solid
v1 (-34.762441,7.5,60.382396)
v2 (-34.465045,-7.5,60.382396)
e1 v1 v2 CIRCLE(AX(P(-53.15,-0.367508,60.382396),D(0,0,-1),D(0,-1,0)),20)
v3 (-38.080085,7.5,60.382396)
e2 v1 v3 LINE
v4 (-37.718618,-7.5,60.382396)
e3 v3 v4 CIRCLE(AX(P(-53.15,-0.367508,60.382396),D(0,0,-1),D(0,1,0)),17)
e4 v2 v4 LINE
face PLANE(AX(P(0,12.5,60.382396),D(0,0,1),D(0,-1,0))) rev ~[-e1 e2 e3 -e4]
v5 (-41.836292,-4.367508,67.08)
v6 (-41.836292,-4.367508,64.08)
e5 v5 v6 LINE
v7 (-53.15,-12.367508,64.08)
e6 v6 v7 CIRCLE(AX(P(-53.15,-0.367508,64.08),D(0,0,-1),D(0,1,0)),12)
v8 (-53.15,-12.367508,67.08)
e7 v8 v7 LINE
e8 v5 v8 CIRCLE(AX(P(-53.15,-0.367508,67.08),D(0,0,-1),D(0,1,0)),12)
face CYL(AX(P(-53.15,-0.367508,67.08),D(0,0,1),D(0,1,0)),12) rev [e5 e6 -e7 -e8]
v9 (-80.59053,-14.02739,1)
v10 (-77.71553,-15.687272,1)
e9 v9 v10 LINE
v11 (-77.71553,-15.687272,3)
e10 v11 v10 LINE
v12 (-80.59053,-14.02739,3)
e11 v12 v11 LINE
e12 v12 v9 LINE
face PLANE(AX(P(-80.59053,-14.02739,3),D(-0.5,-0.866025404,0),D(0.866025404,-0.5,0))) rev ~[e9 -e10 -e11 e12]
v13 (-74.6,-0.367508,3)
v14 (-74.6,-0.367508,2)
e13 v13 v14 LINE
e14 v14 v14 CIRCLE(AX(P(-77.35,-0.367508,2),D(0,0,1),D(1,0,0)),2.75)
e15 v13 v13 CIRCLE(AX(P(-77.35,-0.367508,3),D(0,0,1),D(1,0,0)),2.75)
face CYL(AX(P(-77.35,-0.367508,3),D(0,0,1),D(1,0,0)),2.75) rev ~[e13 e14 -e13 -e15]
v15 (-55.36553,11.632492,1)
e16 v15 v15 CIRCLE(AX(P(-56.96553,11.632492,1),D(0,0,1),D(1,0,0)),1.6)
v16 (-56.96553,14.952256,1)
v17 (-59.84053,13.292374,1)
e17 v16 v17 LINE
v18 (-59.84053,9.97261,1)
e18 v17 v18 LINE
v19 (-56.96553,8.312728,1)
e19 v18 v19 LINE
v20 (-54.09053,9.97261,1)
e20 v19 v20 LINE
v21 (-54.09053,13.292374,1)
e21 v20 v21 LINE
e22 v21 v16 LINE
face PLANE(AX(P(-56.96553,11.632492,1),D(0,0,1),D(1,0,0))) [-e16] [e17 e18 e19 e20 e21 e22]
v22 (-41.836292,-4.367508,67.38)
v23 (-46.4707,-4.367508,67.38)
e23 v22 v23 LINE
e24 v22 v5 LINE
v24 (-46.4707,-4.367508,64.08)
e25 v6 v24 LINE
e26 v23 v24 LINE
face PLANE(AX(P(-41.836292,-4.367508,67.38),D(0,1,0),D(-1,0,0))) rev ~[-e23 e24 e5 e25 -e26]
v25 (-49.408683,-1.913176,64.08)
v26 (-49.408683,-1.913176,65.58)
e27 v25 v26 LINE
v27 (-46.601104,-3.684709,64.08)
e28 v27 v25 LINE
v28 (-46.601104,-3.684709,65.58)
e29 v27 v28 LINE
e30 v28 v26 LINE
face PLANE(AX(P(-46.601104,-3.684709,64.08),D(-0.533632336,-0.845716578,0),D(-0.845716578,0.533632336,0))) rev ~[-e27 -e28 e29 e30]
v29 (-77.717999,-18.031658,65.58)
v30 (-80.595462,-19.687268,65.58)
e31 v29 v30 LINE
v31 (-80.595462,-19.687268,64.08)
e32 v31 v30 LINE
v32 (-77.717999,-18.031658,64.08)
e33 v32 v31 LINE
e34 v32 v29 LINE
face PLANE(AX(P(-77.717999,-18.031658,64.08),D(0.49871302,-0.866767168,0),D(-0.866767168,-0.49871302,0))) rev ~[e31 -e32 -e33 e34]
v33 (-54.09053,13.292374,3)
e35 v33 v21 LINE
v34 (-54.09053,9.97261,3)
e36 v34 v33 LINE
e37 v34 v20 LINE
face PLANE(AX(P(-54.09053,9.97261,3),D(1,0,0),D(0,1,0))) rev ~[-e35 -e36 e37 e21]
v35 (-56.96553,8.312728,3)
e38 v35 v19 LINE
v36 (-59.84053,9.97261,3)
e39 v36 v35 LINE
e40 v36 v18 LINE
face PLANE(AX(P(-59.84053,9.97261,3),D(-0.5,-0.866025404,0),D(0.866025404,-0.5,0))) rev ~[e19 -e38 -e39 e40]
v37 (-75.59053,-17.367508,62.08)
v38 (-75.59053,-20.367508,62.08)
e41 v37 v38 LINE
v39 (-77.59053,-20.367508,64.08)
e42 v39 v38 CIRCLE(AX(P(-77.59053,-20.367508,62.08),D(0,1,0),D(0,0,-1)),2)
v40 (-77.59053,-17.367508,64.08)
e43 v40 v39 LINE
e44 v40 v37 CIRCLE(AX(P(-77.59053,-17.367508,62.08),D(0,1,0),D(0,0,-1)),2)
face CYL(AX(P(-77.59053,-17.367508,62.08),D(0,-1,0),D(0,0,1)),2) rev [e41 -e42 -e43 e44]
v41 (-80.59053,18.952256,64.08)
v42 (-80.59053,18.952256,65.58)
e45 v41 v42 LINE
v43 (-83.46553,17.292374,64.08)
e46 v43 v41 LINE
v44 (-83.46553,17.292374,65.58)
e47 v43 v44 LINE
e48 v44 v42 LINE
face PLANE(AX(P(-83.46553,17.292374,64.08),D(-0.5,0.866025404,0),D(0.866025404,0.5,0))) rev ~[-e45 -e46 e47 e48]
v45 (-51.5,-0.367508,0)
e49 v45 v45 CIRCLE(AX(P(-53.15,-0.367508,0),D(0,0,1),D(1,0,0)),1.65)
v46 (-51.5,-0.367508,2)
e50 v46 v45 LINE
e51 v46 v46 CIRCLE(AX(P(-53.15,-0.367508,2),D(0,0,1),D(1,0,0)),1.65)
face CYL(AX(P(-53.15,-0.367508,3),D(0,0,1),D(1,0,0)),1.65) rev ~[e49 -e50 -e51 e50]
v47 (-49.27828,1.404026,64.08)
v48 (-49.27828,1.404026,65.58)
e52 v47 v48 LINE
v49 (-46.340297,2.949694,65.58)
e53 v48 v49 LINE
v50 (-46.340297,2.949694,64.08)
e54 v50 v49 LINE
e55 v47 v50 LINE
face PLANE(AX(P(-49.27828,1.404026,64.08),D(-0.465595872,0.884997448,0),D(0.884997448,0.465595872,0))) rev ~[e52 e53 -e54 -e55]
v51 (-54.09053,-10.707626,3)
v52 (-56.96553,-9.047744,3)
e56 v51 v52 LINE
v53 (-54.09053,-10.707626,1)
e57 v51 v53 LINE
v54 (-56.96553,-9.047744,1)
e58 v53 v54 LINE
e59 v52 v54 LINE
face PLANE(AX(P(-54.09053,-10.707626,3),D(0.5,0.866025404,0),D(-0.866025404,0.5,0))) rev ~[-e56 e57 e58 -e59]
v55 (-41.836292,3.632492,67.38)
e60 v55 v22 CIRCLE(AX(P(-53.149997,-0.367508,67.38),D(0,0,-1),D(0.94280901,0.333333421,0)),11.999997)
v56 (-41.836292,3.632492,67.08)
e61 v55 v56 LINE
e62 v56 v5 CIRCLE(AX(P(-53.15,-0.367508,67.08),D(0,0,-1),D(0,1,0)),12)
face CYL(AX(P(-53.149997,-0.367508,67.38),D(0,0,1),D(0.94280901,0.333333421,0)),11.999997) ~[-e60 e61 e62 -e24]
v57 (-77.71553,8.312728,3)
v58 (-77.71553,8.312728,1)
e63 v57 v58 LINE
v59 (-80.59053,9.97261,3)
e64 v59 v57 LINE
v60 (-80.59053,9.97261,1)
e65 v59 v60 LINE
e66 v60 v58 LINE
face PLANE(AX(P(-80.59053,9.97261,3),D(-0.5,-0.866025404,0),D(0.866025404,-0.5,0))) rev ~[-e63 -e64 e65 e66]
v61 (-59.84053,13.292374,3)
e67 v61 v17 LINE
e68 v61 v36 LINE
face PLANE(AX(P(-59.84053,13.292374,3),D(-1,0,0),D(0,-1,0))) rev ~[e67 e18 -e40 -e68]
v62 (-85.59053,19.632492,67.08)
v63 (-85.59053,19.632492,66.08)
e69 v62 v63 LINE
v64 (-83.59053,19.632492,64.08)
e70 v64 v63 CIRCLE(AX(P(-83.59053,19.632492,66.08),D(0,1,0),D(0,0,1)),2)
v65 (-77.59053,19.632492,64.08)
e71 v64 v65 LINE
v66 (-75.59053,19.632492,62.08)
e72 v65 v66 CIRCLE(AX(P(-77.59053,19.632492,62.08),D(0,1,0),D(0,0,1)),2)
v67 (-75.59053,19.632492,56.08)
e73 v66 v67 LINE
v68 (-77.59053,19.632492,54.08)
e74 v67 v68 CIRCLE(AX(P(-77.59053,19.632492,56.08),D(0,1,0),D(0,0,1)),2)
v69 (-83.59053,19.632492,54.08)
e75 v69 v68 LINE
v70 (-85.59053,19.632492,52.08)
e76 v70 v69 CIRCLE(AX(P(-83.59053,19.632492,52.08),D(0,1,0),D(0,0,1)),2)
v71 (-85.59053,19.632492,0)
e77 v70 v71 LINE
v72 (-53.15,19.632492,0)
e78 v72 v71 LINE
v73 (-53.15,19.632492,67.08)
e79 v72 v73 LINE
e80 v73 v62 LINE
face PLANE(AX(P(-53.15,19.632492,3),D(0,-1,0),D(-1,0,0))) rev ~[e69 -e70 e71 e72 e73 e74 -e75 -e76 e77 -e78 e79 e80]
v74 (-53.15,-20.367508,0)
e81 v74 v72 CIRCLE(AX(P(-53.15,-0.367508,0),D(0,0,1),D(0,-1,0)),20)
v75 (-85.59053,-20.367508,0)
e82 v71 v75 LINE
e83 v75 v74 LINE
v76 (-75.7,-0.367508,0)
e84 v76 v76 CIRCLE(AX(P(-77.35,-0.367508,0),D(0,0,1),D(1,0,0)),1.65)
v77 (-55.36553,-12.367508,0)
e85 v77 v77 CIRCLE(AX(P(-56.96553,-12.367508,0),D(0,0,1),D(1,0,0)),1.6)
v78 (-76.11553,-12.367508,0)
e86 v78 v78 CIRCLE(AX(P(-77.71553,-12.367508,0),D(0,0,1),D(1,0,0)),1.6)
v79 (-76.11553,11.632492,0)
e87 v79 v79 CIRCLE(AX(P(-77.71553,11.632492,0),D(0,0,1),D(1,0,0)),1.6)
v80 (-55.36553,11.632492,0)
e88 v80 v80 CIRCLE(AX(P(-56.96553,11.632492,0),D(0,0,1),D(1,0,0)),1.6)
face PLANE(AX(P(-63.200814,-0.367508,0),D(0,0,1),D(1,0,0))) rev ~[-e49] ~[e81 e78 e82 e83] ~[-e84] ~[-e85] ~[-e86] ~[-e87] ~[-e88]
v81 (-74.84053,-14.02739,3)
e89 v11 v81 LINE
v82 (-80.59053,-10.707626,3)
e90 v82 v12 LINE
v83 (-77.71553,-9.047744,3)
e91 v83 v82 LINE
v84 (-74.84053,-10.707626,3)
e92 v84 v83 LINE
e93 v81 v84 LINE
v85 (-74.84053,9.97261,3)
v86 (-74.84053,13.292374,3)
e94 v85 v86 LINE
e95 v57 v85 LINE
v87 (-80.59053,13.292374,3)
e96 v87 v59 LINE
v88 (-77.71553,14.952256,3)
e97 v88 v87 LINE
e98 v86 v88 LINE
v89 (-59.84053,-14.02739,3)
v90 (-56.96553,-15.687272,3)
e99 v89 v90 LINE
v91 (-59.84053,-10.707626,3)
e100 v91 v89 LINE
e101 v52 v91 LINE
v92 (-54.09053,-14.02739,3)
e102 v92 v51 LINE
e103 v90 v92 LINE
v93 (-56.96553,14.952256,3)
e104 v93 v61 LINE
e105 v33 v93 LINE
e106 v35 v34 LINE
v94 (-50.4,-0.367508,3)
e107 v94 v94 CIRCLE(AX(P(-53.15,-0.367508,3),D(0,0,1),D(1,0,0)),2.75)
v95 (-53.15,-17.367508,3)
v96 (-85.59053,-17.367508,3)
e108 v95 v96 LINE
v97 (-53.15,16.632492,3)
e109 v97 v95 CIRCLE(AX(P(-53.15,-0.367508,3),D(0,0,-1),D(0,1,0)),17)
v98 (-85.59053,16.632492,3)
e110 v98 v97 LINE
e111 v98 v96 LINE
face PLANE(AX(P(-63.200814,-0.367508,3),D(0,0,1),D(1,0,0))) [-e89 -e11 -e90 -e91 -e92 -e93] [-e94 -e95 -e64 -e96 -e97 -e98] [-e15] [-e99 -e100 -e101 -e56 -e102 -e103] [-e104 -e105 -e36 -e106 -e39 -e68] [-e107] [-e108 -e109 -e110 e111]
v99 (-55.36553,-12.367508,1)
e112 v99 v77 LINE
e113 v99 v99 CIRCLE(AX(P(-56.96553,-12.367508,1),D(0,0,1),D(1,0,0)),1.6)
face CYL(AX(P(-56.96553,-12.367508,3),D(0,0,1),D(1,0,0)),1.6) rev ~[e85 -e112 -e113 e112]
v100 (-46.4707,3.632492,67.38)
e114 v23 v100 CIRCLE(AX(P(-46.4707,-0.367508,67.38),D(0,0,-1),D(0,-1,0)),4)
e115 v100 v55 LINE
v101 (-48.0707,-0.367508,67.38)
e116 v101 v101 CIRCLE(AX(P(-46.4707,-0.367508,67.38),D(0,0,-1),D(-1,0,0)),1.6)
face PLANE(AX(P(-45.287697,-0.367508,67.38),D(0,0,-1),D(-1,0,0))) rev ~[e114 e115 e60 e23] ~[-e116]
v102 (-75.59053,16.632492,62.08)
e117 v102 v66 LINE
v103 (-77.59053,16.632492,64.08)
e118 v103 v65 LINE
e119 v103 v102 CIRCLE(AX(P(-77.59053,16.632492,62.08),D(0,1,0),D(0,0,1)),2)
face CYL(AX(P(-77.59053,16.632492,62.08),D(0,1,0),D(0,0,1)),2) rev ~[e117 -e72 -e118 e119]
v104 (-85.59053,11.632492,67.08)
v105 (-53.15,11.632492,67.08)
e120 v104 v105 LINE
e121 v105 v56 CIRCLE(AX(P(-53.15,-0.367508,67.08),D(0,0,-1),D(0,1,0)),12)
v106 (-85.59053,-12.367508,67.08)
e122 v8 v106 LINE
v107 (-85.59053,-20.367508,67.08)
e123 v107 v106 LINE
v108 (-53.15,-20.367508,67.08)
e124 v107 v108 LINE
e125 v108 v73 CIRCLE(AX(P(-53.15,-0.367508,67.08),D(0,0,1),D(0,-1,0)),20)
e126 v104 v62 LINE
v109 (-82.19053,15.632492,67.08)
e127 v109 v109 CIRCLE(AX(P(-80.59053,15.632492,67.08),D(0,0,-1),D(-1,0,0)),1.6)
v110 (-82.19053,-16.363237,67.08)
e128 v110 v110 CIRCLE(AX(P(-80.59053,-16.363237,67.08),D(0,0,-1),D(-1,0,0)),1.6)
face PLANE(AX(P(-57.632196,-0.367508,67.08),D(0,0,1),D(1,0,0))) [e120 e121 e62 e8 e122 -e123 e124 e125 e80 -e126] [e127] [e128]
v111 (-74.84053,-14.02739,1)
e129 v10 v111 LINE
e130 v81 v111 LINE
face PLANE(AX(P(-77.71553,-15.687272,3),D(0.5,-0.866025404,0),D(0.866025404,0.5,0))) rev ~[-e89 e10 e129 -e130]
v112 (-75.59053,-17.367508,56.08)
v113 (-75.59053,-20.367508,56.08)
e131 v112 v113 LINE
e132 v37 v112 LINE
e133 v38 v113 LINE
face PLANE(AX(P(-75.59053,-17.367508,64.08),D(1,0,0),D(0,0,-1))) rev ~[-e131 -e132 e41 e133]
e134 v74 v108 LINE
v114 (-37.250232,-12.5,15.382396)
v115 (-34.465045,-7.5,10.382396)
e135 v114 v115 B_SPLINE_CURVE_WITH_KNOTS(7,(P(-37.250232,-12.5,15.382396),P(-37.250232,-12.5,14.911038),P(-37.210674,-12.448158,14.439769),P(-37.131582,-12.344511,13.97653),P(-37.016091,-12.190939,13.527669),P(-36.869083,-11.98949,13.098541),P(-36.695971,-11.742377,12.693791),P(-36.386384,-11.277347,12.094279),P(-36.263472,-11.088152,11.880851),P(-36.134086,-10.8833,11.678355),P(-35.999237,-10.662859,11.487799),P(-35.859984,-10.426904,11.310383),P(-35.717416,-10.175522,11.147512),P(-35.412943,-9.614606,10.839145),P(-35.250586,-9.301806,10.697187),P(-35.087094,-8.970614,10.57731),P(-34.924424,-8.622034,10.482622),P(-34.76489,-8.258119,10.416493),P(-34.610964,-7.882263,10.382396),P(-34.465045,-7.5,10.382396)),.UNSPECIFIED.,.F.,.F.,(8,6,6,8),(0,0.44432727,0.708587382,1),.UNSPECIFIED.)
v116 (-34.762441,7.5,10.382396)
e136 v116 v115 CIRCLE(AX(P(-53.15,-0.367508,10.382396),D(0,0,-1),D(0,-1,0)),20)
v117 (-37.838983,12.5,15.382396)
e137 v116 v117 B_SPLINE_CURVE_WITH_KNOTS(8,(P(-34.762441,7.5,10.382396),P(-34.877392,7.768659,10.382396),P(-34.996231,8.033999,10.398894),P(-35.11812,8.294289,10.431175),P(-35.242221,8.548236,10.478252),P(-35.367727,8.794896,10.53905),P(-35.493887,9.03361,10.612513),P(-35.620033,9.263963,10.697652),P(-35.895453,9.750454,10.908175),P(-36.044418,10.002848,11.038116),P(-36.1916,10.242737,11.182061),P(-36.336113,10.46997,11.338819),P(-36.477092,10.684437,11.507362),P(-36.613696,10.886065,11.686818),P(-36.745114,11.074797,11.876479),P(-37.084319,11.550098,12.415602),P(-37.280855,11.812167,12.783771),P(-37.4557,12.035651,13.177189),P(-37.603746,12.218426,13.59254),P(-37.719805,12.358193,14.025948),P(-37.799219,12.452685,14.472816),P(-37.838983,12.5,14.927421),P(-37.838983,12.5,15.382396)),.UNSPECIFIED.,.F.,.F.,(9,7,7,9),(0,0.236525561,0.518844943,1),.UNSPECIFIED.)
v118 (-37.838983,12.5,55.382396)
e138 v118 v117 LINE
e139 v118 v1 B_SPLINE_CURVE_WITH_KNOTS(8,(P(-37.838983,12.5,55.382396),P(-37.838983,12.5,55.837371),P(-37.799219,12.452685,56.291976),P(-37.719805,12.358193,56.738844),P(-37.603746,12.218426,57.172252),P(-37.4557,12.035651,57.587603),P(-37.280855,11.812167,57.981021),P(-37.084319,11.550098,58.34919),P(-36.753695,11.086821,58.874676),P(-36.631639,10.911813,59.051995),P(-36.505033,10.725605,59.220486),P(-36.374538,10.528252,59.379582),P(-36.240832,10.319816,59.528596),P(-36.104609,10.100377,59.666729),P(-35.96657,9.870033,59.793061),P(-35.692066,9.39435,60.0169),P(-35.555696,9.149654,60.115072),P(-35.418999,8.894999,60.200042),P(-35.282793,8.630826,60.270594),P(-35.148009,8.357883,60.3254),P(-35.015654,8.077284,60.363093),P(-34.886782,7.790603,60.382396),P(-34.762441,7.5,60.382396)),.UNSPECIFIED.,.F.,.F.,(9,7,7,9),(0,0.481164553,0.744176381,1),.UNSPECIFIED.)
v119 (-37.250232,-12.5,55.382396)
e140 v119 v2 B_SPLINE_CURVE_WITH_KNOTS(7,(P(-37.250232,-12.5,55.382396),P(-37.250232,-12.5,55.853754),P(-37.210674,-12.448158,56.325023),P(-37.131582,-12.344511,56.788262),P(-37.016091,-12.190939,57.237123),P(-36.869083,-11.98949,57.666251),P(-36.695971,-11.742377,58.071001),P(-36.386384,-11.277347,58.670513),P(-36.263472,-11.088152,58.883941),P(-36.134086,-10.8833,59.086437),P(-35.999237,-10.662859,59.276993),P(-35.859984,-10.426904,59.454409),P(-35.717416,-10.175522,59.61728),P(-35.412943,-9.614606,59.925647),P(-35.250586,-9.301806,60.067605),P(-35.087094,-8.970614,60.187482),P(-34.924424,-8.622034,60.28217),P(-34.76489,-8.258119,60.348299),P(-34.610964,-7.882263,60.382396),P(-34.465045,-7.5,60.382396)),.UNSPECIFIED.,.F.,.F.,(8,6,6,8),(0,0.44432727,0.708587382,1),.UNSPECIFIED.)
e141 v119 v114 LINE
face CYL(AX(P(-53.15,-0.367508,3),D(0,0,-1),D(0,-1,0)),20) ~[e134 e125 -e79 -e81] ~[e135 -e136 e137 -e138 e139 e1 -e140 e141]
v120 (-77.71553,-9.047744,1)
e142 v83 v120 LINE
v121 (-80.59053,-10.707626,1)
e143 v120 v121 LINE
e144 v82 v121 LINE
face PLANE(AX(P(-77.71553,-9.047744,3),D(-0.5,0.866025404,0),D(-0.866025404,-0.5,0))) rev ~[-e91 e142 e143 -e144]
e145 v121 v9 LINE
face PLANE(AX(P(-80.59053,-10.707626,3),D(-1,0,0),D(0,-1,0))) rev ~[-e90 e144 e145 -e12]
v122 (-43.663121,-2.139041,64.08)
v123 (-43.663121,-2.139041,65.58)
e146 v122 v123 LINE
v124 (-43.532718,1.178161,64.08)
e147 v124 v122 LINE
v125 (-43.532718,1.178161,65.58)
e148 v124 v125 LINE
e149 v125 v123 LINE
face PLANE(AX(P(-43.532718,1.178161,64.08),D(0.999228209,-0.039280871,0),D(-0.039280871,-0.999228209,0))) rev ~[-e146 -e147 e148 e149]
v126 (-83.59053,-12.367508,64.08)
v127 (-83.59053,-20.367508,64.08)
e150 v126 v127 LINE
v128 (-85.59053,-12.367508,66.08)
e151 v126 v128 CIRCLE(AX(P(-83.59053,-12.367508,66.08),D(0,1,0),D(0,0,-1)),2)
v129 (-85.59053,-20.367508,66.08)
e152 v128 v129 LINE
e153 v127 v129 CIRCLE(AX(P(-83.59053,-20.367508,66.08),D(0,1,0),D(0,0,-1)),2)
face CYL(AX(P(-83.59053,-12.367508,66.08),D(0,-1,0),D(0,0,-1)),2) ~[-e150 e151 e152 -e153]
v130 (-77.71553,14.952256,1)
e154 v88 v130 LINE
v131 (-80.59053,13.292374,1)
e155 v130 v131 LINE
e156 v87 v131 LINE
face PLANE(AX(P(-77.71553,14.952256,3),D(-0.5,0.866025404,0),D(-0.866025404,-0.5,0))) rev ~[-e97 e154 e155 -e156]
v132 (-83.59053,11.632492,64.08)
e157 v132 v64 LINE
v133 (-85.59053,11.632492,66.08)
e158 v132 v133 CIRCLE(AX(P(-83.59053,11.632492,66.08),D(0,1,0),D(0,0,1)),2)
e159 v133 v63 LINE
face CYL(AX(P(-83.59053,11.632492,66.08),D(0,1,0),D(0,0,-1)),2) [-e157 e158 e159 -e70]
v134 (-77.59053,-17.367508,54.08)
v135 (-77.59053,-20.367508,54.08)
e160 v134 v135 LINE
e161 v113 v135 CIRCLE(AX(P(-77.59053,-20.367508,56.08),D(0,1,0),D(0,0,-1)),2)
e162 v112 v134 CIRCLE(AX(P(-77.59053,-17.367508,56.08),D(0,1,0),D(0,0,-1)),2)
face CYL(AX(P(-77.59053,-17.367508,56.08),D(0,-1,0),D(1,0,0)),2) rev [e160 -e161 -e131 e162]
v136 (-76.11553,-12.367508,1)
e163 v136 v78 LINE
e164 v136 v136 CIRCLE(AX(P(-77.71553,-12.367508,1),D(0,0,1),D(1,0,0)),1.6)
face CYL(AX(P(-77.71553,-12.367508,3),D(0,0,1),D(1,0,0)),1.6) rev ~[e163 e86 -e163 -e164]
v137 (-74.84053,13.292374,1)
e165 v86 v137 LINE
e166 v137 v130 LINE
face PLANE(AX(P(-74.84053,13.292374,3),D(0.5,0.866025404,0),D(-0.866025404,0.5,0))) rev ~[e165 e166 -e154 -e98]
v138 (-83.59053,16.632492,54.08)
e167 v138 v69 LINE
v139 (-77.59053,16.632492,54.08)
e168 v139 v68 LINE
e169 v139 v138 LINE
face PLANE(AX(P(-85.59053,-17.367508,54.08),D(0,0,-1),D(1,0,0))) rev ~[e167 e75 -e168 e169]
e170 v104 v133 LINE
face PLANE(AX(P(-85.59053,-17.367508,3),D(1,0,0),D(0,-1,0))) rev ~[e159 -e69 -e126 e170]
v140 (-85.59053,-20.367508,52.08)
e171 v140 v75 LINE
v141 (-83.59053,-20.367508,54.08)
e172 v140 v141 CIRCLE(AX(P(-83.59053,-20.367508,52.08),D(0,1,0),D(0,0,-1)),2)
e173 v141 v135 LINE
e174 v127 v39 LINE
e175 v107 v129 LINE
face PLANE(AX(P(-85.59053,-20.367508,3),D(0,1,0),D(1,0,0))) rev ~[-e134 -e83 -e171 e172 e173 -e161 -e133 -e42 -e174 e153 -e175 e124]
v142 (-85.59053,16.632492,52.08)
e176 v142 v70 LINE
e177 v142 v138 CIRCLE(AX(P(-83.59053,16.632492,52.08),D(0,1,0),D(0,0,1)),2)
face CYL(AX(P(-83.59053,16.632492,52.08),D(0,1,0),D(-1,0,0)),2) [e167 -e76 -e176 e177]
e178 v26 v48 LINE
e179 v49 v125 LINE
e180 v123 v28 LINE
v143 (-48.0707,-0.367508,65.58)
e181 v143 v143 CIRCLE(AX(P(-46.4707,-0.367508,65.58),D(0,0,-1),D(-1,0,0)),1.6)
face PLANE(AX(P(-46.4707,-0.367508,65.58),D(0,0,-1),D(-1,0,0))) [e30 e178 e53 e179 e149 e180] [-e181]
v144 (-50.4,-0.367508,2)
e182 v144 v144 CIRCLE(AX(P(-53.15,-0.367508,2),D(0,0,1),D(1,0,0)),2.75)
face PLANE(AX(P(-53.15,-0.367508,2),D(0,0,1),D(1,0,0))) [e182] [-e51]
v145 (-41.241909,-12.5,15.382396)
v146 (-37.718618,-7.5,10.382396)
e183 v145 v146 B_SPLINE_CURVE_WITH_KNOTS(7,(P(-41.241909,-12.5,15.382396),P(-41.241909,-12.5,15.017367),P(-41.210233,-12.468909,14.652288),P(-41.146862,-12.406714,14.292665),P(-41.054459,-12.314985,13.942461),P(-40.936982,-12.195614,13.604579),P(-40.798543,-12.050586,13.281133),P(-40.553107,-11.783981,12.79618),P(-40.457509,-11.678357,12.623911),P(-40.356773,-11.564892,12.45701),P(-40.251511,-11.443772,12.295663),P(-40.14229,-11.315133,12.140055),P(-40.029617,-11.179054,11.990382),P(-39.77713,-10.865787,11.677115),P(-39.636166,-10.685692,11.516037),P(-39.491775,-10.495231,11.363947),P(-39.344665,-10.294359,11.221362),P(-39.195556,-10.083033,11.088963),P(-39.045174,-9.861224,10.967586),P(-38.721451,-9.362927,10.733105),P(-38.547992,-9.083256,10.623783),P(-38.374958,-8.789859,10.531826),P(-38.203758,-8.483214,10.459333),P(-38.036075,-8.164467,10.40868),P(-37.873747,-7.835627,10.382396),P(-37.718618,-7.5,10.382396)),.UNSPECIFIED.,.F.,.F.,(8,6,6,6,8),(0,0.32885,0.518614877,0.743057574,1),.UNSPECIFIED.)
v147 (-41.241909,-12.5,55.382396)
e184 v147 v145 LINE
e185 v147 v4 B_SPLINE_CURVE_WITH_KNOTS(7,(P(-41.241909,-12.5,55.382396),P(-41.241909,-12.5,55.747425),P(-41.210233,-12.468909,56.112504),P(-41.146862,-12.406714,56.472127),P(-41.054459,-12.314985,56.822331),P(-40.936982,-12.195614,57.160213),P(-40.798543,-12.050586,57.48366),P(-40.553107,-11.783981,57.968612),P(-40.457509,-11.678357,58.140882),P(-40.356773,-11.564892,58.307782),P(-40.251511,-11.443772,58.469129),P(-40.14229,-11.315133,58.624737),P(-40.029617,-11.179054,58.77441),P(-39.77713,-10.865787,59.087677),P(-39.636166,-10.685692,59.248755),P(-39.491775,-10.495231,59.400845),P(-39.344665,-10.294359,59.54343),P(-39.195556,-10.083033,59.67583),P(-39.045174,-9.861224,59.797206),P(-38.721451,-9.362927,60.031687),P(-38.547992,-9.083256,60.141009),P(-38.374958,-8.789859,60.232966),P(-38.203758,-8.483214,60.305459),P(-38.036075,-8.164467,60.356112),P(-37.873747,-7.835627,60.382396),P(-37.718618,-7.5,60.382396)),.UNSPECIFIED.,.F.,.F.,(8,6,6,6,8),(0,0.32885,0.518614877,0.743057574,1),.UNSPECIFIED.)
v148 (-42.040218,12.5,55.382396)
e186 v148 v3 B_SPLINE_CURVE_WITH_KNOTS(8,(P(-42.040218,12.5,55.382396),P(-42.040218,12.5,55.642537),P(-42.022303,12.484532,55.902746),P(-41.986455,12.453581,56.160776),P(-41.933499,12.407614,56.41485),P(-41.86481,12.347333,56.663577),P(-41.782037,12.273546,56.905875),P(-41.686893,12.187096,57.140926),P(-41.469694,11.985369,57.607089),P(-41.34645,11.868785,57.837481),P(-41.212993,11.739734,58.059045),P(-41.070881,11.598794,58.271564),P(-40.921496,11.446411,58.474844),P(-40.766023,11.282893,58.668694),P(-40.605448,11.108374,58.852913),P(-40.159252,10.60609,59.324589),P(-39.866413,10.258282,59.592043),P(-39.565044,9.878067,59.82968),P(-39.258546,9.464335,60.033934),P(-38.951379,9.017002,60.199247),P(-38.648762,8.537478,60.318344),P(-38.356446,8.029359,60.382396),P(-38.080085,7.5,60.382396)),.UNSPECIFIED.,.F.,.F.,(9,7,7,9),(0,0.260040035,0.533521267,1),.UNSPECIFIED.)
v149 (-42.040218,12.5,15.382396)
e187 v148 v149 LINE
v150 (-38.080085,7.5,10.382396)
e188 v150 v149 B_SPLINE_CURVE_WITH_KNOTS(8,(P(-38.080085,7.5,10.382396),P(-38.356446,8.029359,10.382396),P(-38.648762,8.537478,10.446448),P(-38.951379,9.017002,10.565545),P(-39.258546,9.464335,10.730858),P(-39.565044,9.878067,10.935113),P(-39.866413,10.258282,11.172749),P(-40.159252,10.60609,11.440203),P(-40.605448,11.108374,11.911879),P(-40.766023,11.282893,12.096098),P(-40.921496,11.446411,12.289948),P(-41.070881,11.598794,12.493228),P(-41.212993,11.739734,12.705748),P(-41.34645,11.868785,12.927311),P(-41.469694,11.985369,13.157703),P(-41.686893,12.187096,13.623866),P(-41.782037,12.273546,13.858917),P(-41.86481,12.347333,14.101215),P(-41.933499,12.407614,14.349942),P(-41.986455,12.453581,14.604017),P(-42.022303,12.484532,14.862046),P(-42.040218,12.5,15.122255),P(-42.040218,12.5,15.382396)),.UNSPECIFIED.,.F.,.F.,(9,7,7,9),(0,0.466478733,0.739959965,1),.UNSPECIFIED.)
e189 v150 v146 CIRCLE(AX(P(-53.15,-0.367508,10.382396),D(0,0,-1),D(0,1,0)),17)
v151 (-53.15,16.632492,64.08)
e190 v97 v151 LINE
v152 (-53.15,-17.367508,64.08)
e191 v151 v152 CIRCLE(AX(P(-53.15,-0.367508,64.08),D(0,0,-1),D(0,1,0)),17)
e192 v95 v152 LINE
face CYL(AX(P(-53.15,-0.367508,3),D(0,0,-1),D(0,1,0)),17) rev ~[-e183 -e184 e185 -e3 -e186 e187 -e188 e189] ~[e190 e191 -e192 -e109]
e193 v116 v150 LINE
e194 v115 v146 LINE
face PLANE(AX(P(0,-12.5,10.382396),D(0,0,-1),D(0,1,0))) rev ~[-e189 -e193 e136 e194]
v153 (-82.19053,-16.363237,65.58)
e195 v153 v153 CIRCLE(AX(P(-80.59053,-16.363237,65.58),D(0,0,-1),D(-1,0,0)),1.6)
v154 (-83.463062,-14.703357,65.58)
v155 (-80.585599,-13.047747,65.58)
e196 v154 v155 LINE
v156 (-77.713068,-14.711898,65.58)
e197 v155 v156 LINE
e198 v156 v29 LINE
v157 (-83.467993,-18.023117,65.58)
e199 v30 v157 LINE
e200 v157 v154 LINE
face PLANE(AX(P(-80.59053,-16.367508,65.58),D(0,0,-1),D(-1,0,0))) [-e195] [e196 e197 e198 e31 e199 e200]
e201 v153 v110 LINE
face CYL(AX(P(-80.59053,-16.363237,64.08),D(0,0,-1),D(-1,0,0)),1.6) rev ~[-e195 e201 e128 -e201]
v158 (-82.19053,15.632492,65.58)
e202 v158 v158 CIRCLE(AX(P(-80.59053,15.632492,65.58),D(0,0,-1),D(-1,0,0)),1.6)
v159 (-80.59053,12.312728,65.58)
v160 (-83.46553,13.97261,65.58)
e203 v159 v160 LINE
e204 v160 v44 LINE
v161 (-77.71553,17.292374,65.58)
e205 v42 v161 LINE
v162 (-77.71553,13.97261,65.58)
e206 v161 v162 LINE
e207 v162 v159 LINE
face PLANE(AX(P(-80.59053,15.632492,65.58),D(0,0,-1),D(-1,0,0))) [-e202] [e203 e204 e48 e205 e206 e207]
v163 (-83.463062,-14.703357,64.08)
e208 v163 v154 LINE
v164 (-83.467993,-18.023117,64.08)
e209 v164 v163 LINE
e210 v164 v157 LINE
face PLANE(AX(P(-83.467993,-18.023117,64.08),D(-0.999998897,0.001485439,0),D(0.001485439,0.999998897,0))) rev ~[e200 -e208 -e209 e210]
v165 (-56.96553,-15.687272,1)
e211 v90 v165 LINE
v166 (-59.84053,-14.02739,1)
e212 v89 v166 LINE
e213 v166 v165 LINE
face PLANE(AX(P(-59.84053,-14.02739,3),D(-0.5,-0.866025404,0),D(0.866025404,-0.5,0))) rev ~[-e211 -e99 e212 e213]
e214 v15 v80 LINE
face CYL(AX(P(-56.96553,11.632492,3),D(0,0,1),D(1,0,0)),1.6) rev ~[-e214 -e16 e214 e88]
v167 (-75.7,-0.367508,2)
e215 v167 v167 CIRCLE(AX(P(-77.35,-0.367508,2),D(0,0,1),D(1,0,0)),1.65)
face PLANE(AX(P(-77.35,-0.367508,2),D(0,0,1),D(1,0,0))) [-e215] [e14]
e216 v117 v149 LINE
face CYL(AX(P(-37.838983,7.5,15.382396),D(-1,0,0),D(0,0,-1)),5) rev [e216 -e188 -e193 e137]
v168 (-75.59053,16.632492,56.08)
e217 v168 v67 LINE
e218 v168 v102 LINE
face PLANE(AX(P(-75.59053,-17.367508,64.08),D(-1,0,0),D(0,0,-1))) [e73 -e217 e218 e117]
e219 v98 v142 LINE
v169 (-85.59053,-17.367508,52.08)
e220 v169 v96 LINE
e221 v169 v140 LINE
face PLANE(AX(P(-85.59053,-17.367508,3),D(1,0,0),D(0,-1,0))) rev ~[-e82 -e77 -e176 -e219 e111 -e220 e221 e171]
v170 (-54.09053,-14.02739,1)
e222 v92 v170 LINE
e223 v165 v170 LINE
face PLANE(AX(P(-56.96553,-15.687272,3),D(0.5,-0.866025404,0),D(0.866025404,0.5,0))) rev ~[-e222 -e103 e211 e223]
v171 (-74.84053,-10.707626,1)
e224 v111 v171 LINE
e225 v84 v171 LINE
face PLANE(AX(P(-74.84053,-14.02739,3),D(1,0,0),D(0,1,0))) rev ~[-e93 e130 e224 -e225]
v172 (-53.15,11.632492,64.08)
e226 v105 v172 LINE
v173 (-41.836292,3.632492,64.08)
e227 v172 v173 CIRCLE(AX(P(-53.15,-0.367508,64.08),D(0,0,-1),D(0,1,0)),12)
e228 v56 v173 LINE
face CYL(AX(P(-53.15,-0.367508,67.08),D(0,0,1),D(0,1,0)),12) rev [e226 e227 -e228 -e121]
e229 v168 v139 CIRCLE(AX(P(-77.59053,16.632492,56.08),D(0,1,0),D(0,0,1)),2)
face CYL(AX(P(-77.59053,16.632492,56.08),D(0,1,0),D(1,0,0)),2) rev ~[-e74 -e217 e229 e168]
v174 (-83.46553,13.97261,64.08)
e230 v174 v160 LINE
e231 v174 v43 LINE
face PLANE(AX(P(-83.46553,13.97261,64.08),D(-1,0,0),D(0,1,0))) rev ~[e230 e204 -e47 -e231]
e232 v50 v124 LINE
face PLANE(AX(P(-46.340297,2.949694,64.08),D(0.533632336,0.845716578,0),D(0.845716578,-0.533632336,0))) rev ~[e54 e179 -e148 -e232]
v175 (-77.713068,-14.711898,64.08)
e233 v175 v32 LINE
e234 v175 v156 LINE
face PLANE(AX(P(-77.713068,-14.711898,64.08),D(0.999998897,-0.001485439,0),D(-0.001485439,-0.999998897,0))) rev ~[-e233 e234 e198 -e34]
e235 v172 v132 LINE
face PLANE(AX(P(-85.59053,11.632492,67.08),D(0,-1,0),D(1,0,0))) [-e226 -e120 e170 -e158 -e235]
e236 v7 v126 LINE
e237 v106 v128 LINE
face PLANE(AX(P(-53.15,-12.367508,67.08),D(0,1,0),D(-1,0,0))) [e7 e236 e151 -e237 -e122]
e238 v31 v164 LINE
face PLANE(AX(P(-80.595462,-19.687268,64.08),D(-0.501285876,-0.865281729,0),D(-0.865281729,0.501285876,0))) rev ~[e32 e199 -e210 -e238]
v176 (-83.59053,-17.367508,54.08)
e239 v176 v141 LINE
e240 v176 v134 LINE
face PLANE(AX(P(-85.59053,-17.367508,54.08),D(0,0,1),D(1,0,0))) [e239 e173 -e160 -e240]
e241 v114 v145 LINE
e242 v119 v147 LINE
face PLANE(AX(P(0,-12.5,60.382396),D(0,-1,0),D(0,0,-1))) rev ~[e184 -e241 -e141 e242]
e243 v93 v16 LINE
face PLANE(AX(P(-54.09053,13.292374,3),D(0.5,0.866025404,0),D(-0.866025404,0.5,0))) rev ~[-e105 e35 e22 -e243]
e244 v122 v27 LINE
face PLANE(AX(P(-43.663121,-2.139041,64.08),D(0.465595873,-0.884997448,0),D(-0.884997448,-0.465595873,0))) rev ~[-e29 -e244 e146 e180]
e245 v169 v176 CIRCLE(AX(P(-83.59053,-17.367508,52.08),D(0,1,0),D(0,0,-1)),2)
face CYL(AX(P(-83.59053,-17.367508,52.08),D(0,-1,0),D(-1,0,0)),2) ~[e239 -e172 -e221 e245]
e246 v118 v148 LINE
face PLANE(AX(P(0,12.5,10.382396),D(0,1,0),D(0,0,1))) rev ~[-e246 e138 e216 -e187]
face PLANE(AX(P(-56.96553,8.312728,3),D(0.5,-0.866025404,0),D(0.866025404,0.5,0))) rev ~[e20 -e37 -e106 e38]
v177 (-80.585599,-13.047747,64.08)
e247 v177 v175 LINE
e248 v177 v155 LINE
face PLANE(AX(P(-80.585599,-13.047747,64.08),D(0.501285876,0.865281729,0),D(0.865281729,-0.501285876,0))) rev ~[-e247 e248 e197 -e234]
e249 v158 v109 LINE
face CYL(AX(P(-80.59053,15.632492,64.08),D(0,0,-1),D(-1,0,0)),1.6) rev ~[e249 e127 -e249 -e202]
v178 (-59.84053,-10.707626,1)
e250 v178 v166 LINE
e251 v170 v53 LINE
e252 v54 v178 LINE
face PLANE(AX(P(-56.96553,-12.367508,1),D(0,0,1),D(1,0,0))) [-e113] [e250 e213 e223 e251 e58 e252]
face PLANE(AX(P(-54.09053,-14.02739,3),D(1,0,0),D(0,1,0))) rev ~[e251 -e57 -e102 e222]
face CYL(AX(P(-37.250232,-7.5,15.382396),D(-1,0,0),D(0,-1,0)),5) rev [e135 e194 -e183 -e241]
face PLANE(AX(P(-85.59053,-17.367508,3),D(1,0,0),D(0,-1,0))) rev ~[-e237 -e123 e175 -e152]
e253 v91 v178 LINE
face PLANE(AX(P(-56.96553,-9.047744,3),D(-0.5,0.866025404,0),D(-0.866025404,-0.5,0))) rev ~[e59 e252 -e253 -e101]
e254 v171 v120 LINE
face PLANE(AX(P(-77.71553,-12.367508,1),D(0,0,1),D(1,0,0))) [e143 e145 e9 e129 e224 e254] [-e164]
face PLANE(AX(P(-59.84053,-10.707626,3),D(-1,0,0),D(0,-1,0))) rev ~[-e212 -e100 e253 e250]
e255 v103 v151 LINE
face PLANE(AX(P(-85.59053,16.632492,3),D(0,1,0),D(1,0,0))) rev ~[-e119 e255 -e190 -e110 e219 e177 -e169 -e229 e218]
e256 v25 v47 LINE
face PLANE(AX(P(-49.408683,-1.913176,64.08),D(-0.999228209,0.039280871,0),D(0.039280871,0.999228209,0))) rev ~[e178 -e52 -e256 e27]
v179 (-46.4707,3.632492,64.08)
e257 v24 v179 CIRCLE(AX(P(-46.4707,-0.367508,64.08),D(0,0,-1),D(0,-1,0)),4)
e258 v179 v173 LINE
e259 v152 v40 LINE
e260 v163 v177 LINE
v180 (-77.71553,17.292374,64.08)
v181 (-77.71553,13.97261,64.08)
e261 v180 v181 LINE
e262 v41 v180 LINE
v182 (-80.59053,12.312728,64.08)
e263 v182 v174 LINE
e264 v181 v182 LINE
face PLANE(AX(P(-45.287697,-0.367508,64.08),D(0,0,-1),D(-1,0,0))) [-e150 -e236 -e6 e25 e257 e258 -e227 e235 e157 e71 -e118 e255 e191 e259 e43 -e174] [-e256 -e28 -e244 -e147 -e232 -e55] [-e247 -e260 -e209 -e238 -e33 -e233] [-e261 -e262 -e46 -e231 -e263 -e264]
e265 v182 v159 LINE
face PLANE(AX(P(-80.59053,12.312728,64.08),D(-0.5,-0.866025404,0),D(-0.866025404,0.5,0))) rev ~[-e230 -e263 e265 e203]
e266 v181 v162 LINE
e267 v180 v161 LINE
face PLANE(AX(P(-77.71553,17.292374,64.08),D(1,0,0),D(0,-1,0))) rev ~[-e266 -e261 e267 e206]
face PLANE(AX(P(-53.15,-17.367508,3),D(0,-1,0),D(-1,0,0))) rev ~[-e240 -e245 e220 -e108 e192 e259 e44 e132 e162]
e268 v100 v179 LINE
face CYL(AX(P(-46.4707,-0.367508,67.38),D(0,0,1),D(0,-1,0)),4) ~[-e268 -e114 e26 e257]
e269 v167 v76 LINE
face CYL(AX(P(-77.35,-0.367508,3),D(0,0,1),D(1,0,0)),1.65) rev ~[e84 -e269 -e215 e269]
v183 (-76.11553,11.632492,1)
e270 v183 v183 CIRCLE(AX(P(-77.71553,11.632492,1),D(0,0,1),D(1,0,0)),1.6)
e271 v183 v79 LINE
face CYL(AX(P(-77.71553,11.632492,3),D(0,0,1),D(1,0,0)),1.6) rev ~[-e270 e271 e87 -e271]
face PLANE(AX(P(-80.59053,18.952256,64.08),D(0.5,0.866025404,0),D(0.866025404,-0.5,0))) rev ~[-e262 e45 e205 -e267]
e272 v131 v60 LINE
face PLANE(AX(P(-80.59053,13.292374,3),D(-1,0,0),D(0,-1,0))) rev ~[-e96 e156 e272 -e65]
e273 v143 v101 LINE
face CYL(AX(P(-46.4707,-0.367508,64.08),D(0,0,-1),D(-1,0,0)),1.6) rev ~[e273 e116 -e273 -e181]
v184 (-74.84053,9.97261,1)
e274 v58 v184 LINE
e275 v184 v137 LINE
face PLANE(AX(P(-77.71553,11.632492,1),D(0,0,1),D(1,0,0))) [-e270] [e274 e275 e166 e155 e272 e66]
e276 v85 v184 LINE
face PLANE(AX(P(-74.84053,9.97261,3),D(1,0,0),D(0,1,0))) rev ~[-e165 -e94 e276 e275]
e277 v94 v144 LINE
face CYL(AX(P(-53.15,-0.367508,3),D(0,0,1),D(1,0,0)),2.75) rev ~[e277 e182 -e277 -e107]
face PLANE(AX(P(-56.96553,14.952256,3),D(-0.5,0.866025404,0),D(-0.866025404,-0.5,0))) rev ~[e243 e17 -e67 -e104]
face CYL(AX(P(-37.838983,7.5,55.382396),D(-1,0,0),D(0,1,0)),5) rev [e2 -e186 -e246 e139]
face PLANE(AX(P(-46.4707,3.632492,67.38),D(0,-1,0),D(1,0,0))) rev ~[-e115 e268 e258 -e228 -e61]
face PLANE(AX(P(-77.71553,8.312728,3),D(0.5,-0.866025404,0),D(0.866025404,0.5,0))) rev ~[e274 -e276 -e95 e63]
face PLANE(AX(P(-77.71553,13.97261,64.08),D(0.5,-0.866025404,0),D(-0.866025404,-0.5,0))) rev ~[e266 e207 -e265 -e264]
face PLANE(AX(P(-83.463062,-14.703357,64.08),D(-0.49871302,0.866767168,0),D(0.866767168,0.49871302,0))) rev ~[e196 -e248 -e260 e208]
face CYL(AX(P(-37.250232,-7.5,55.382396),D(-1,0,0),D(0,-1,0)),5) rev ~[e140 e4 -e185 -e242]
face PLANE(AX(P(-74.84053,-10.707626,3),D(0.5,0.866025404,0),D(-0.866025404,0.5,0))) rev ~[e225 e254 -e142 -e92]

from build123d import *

# Parameters (mm, degrees)
BOSS_EXTRUDE1_DEPTH     = 3
BOSS_EXTRUDE2_DEPTH     = 64.08
BOSS_EXTRUDE3_START     = 0.3
BOSS_EXTRUDE3_DEPTH     = 3
CUT_EXTRUDE1_REACH      = 5
SKETCH4_R               = 1.65
CUT_EXTRUDE2_DEPTH      = 2
CUT_EXTRUDE3_REACH      = 5
SKETCH7_R               = 1.6
SKETCH10_W              = 10
SKETCH10_H              = 10
CUT_EXTRUDE4_DEPTH      = 38
CUT_EXTRUDE4_DEPTH_BACK = 4
CUT_EXTRUDE6_DEPTH      = 1.5
CUT_EXTRUDE7_REACH      = 5
SKETCH12_R              = 1.6
CUT_EXTRUDE8_REACH      = 87.591
BOSS_EXTRUDE4_DEPTH     = 3.3
CUT_EXTRUDE9_REACH      = 5.3
SKETCH15_R              = 1.6
CUT_EXTRUDE10_DEPTH     = 1.5
SKETCH17_R              = 8
CUT_EXTRUDE11_DEPTH     = 1
SKETCH18_R              = 2.75
CUT_EXTRUDE13_DEPTH     = 1
FILLET1_R               = 2
FILLET2_R               = 5


with BuildPart() as part:
    # Sketch1 → Boss-Extrude1 (new body)
    with BuildSketch(Plane.XY):
        with BuildLine():
            Line((-85.590530374, -20.367507575), (-53.15, -20.367507575))
            ThreePointArc((-53.15, -20.367507575), (-33.15, -0.367507575), (-53.15, 19.632492425))
            Line((-53.15, 19.632492425), (-85.590530374, 19.632492425))
            Line((-85.590530374, 19.632492425), (-85.590530374, -20.367507575))
        make_face()
    extrude(amount=BOSS_EXTRUDE1_DEPTH)

    # Sketch2 → Boss-Extrude2 (add)
    with BuildSketch(Plane.XY.offset(3)):
        with BuildLine():
            Line((-85.590530374, -20.367507575), (-53.15, -20.367507575))
            ThreePointArc((-53.15, -20.367507575), (-33.15, -0.367507575), (-53.15, 19.632492425))
            Line((-53.15, 19.632492425), (-85.590530374, 19.632492425))
            Line((-85.590530374, 19.632492425), (-85.590530374, 16.632492425))
            Line((-85.590530374, 16.632492425), (-53.15, 16.632492425))
            ThreePointArc((-53.15, 16.632492425), (-36.15, -0.367507575), (-53.15, -17.367507575))
            Line((-53.15, -17.367507575), (-85.590530374, -17.367507575))
            Line((-85.590530374, -17.367507575), (-85.590530374, -20.367507575))
        make_face()
    extrude(amount=BOSS_EXTRUDE2_DEPTH)

    # Sketch3 → Boss-Extrude3 (add)
    with BuildSketch(Plane(origin=(0, 0, 67.38), x_dir=(-1, 0, 0), z_dir=(0, 0, -1)).offset(BOSS_EXTRUDE3_START)):
        with BuildLine():
            Line((85.590530374, 19.632492425), (85.590530374, 11.632492425))
            Line((85.590530374, 11.632492425), (77.590530374, 11.632492425))
            Line((77.590530374, 11.632492425), (53.15, 11.632492425))
            ThreePointArc((53.15, 11.632492425), (41.15, -0.367507575), (53.15, -12.367507575))
            Line((53.15, -12.367507575), (77.590530374, -12.367507575))
            Line((77.590530374, -12.367507575), (85.590530374, -12.367507575))
            Line((85.590530374, -12.367507575), (85.590530374, -20.367507575))
            Line((85.590530374, -20.367507575), (53.15, -20.367507575))
            ThreePointArc((53.15, -20.367507575), (33.15, -0.367507575), (53.15, 19.632492425))
            Line((53.15, 19.632492425), (85.590530374, 19.632492425))
        make_face()
    extrude(amount=BOSS_EXTRUDE3_DEPTH)

    # Sketch4 → Cut-Extrude1 (cut, up to next)
    with BuildSketch(Plane.XY.offset(3), mode=Mode.PRIVATE) as cut_extrude1_sk1:
        with Locations((-77.35, -0.367507575)):
            Circle(SKETCH4_R)
    cut_extrude1_tool1 = extrude(cut_extrude1_sk1.sketch, amount=-CUT_EXTRUDE1_REACH, mode=Mode.PRIVATE) & part.part
    add(cut_extrude1_tool1.solids().sort_by_distance((-77.35, -0.367508, 3))[0], mode=Mode.SUBTRACT)
    # Sketch4 → Cut-Extrude1 (cut, up to next)
    with BuildSketch(Plane.XY.offset(3), mode=Mode.PRIVATE) as cut_extrude1_sk2:
        with Locations((-53.15, -0.367507575)):
            Circle(SKETCH4_R)
    cut_extrude1_tool2 = extrude(cut_extrude1_sk2.sketch, amount=-CUT_EXTRUDE1_REACH, mode=Mode.PRIVATE) & part.part
    add(cut_extrude1_tool2.solids().sort_by_distance((-53.15, -0.367508, 3))[0], mode=Mode.SUBTRACT)

    # Sketch6 → Cut-Extrude2 (cut)
    with BuildSketch(Plane.XY.offset(3)):
        Polygon((-77.715530374, -9.047743527), (-80.590530374, -10.707625551), (-80.590530374, -14.027389599), (-77.715530374, -15.687271623), (-74.840530374, -14.027389599), (-74.840530374, -10.707625551), align=None)
        Polygon((-56.965530374, -9.047743527), (-59.840530374, -10.707625551), (-59.840530374, -14.027389599), (-56.965530374, -15.687271623), (-54.090530374, -14.027389599), (-54.090530374, -10.707625551), align=None)
        Polygon((-77.715530374, 14.952256473), (-80.590530374, 13.292374449), (-80.590530374, 9.972610401), (-77.715530374, 8.312728377), (-74.840530374, 9.972610401), (-74.840530374, 13.292374449), align=None)
        Polygon((-56.965530374, 14.952256473), (-59.840530374, 13.292374449), (-59.840530374, 9.972610401), (-56.965530374, 8.312728377), (-54.090530374, 9.972610401), (-54.090530374, 13.292374449), align=None)
    extrude(amount=-CUT_EXTRUDE2_DEPTH, mode=Mode.SUBTRACT)

    # Sketch7 → Cut-Extrude3 (cut, up to next)
    with BuildSketch(Plane.XY.offset(3), mode=Mode.PRIVATE) as cut_extrude3_sk1:
        with Locations((-77.715530374, -12.367507575)):
            Circle(SKETCH7_R)
    cut_extrude3_tool1 = extrude(cut_extrude3_sk1.sketch, amount=-CUT_EXTRUDE3_REACH, mode=Mode.PRIVATE) & part.part
    add(cut_extrude3_tool1.solids().sort_by_distance((-77.71553, -12.367508, 3))[0], mode=Mode.SUBTRACT)
    # Sketch7 → Cut-Extrude3 (cut, up to next)
    with BuildSketch(Plane.XY.offset(3), mode=Mode.PRIVATE) as cut_extrude3_sk2:
        with Locations((-77.715530374, 11.632492425)):
            Circle(SKETCH7_R)
    cut_extrude3_tool2 = extrude(cut_extrude3_sk2.sketch, amount=-CUT_EXTRUDE3_REACH, mode=Mode.PRIVATE) & part.part
    add(cut_extrude3_tool2.solids().sort_by_distance((-77.71553, 11.632492, 3))[0], mode=Mode.SUBTRACT)
    # Sketch7 → Cut-Extrude3 (cut, up to next)
    with BuildSketch(Plane.XY.offset(3), mode=Mode.PRIVATE) as cut_extrude3_sk3:
        with Locations((-56.965530374, 11.632492425)):
            Circle(SKETCH7_R)
    cut_extrude3_tool3 = extrude(cut_extrude3_sk3.sketch, amount=-CUT_EXTRUDE3_REACH, mode=Mode.PRIVATE) & part.part
    add(cut_extrude3_tool3.solids().sort_by_distance((-56.96553, 11.632492, 3))[0], mode=Mode.SUBTRACT)
    # Sketch7 → Cut-Extrude3 (cut, up to next)
    with BuildSketch(Plane.XY.offset(3), mode=Mode.PRIVATE) as cut_extrude3_sk4:
        with Locations((-56.965530374, -12.367507575)):
            Circle(SKETCH7_R)
    cut_extrude3_tool4 = extrude(cut_extrude3_sk4.sketch, amount=-CUT_EXTRUDE3_REACH, mode=Mode.PRIVATE) & part.part
    add(cut_extrude3_tool4.solids().sort_by_distance((-56.96553, -12.367508, 3))[0], mode=Mode.SUBTRACT)

    # Sketch10 → Cut-Extrude4 (cut, two sides)
    with BuildSketch(Plane(origin=(0, -17.367507575, 0), x_dir=(1, 0, 0), z_dir=(0, 1, 0))) as cut_extrude4_sk:
        with Locations((-80.590530374, -59.08)):
            Rectangle(SKETCH10_W, SKETCH10_H)
    extrude(amount=CUT_EXTRUDE4_DEPTH, mode=Mode.SUBTRACT)
    extrude(cut_extrude4_sk.sketch, amount=-CUT_EXTRUDE4_DEPTH_BACK, mode=Mode.SUBTRACT)

    # Sketch11 → Cut-Extrude6 (cut)
    with BuildSketch(Plane(origin=(0, 0, 64.08), x_dir=(-1, 0, 0), z_dir=(0, 0, -1))):
        Polygon((80.590530374, 12.312728377), (83.465530374, 13.972610401), (83.465530374, 17.292374449), (80.590530374, 18.952256473), (77.715530374, 17.292374449), (77.715530374, 13.972610401), align=None)
        Polygon((80.595461682, -19.68726796), (83.467992856, -18.02311713), (83.463061548, -14.703356745), (80.585599066, -13.04774719), (77.713067892, -14.71189802), (77.7179992, -18.031658405), align=None)
    extrude(amount=-CUT_EXTRUDE6_DEPTH, mode=Mode.SUBTRACT)

    # Sketch12 → Cut-Extrude7 (cut, up to next)
    with BuildSketch(Plane(origin=(0, 0, 64.08), x_dir=(-1, 0, 0), z_dir=(0, 0, -1)), mode=Mode.PRIVATE) as cut_extrude7_sk1:
        with Locations((80.590530374, 15.632492425)):
            Circle(SKETCH12_R)
    cut_extrude7_tool1 = extrude(cut_extrude7_sk1.sketch, amount=-CUT_EXTRUDE7_REACH, mode=Mode.PRIVATE) & part.part
    add(cut_extrude7_tool1.solids().sort_by_distance((-80.59053, 15.632492, 64.08))[0], mode=Mode.SUBTRACT)
    # Sketch12 → Cut-Extrude7 (cut, up to next)
    with BuildSketch(Plane(origin=(0, 0, 64.08), x_dir=(-1, 0, 0), z_dir=(0, 0, -1)), mode=Mode.PRIVATE) as cut_extrude7_sk2:
        with Locations((80.590530374, -16.363236937)):
            Circle(SKETCH12_R)
    cut_extrude7_tool2 = extrude(cut_extrude7_sk2.sketch, amount=-CUT_EXTRUDE7_REACH, mode=Mode.PRIVATE) & part.part
    add(cut_extrude7_tool2.solids().sort_by_distance((-80.59053, -16.363237, 64.08))[0], mode=Mode.SUBTRACT)

    # Sketch13 → Cut-Extrude8 (cut, up to next)
    with BuildSketch(Plane(origin=(0, 0, 0), x_dir=(0, 0, -1), z_dir=(1, 0, 0)), mode=Mode.PRIVATE) as cut_extrude8_sk1:
        Polygon((-60.382396062, 0), (-60.382396062, -12.5), (-10.382396062, -12.5), (-10.382396062, 12.5), (-60.382396062, 12.5), align=None)
    cut_extrude8_tool1 = extrude(cut_extrude8_sk1.sketch, amount=-CUT_EXTRUDE8_REACH, mode=Mode.PRIVATE) & part.part
    add(cut_extrude8_tool1.solids().sort_by_distance((0, 0, 35.382396))[0], mode=Mode.SUBTRACT)

    # Sketch14 → Boss-Extrude4 (add)
    with BuildSketch(Plane(origin=(0, 0, 67.38), x_dir=(-1, 0, 0), z_dir=(0, 0, -1))):
        with BuildLine():
            Line((46.470700294, 3.632492425), (41.836291501, 3.632492425))
            ThreePointArc((41.836291501, 3.632492425), (41.149999808, -0.367507575), (41.836291501, -4.367507575))
            Line((41.836291501, -4.367507575), (46.470700294, -4.367507575))
            ThreePointArc((46.470700294, -4.367507575), (50.470700294, -0.367507575), (46.470700294, 3.632492425))
        make_face()
    extrude(amount=BOSS_EXTRUDE4_DEPTH)

    # Sketch15 → Cut-Extrude9 (cut, up to next)
    with BuildSketch(Plane(origin=(0, 0, 64.08), x_dir=(-1, 0, 0), z_dir=(0, 0, -1)), mode=Mode.PRIVATE) as cut_extrude9_sk1:
        with Locations((46.470700294, -0.367507575)):
            Circle(SKETCH15_R)
    cut_extrude9_tool1 = extrude(cut_extrude9_sk1.sketch, amount=-CUT_EXTRUDE9_REACH, mode=Mode.PRIVATE) & part.part
    add(cut_extrude9_tool1.solids().sort_by_distance((-46.4707, -0.367508, 64.08))[0], mode=Mode.SUBTRACT)

    # Sketch16 → Cut-Extrude10 (cut)
    with BuildSketch(Plane(origin=(0, 0, 64.08), x_dir=(-1, 0, 0), z_dir=(0, 0, -1))):
        Polygon((46.601103516, -3.684709458), (49.408683005, -1.913176014), (49.278279783, 1.40402587), (46.340297072, 2.949694308), (43.532717583, 1.178160864), (43.663120805, -2.139041019), align=None)
    extrude(amount=-CUT_EXTRUDE10_DEPTH, mode=Mode.SUBTRACT)

    # Sketch17 → Cut-Extrude11 (cut)
    with BuildSketch(Plane.XY.offset(3)):
        with Locations((-349.65, -0.367507575)):
            Circle(SKETCH17_R)
    extrude(amount=-CUT_EXTRUDE11_DEPTH, mode=Mode.SUBTRACT)

    # Sketch18 → Cut-Extrude13 (cut)
    with BuildSketch(Plane.XY.offset(3)):
        with Locations((-53.15, -0.367507575)):
            Circle(SKETCH18_R)
        with Locations((-77.35, -0.367507575)):
            Circle(SKETCH18_R)
    extrude(amount=-CUT_EXTRUDE13_DEPTH, mode=Mode.SUBTRACT)

    # Fillet1
    fillet1_edges = [part.edges().sort_by_distance(p)[0] for p in [
        (-85.590530374, 18.132492425, 54.08),
        (-85.590530374, -18.867507575, 54.08),
        (-75.590530374, 18.132492425, 54.08),
        (-75.590530374, -18.867507575, 54.08),
        (-75.590530374, 18.132492425, 64.08),
        (-75.590530374, -18.867507575, 64.08),
        (-85.590530374, 15.632492425, 64.08),
        (-85.590530374, -16.367507575, 64.08),
    ]]
    fillet(fillet1_edges, radius=FILLET1_R)

    # Fillet2
    fillet2_edges = [part.edges().sort_by_distance(p)[0] for p in [
        (-39.939600546, 12.5, 60.382396062),
        (-39.939600546, 12.5, 10.382396062),
        (-39.246070498, -12.5, 10.382396062),
        (-39.246070498, -12.5, 60.382396062),
    ]]
    fillet(fillet2_edges, radius=FILLET2_R)


solid = part.part
